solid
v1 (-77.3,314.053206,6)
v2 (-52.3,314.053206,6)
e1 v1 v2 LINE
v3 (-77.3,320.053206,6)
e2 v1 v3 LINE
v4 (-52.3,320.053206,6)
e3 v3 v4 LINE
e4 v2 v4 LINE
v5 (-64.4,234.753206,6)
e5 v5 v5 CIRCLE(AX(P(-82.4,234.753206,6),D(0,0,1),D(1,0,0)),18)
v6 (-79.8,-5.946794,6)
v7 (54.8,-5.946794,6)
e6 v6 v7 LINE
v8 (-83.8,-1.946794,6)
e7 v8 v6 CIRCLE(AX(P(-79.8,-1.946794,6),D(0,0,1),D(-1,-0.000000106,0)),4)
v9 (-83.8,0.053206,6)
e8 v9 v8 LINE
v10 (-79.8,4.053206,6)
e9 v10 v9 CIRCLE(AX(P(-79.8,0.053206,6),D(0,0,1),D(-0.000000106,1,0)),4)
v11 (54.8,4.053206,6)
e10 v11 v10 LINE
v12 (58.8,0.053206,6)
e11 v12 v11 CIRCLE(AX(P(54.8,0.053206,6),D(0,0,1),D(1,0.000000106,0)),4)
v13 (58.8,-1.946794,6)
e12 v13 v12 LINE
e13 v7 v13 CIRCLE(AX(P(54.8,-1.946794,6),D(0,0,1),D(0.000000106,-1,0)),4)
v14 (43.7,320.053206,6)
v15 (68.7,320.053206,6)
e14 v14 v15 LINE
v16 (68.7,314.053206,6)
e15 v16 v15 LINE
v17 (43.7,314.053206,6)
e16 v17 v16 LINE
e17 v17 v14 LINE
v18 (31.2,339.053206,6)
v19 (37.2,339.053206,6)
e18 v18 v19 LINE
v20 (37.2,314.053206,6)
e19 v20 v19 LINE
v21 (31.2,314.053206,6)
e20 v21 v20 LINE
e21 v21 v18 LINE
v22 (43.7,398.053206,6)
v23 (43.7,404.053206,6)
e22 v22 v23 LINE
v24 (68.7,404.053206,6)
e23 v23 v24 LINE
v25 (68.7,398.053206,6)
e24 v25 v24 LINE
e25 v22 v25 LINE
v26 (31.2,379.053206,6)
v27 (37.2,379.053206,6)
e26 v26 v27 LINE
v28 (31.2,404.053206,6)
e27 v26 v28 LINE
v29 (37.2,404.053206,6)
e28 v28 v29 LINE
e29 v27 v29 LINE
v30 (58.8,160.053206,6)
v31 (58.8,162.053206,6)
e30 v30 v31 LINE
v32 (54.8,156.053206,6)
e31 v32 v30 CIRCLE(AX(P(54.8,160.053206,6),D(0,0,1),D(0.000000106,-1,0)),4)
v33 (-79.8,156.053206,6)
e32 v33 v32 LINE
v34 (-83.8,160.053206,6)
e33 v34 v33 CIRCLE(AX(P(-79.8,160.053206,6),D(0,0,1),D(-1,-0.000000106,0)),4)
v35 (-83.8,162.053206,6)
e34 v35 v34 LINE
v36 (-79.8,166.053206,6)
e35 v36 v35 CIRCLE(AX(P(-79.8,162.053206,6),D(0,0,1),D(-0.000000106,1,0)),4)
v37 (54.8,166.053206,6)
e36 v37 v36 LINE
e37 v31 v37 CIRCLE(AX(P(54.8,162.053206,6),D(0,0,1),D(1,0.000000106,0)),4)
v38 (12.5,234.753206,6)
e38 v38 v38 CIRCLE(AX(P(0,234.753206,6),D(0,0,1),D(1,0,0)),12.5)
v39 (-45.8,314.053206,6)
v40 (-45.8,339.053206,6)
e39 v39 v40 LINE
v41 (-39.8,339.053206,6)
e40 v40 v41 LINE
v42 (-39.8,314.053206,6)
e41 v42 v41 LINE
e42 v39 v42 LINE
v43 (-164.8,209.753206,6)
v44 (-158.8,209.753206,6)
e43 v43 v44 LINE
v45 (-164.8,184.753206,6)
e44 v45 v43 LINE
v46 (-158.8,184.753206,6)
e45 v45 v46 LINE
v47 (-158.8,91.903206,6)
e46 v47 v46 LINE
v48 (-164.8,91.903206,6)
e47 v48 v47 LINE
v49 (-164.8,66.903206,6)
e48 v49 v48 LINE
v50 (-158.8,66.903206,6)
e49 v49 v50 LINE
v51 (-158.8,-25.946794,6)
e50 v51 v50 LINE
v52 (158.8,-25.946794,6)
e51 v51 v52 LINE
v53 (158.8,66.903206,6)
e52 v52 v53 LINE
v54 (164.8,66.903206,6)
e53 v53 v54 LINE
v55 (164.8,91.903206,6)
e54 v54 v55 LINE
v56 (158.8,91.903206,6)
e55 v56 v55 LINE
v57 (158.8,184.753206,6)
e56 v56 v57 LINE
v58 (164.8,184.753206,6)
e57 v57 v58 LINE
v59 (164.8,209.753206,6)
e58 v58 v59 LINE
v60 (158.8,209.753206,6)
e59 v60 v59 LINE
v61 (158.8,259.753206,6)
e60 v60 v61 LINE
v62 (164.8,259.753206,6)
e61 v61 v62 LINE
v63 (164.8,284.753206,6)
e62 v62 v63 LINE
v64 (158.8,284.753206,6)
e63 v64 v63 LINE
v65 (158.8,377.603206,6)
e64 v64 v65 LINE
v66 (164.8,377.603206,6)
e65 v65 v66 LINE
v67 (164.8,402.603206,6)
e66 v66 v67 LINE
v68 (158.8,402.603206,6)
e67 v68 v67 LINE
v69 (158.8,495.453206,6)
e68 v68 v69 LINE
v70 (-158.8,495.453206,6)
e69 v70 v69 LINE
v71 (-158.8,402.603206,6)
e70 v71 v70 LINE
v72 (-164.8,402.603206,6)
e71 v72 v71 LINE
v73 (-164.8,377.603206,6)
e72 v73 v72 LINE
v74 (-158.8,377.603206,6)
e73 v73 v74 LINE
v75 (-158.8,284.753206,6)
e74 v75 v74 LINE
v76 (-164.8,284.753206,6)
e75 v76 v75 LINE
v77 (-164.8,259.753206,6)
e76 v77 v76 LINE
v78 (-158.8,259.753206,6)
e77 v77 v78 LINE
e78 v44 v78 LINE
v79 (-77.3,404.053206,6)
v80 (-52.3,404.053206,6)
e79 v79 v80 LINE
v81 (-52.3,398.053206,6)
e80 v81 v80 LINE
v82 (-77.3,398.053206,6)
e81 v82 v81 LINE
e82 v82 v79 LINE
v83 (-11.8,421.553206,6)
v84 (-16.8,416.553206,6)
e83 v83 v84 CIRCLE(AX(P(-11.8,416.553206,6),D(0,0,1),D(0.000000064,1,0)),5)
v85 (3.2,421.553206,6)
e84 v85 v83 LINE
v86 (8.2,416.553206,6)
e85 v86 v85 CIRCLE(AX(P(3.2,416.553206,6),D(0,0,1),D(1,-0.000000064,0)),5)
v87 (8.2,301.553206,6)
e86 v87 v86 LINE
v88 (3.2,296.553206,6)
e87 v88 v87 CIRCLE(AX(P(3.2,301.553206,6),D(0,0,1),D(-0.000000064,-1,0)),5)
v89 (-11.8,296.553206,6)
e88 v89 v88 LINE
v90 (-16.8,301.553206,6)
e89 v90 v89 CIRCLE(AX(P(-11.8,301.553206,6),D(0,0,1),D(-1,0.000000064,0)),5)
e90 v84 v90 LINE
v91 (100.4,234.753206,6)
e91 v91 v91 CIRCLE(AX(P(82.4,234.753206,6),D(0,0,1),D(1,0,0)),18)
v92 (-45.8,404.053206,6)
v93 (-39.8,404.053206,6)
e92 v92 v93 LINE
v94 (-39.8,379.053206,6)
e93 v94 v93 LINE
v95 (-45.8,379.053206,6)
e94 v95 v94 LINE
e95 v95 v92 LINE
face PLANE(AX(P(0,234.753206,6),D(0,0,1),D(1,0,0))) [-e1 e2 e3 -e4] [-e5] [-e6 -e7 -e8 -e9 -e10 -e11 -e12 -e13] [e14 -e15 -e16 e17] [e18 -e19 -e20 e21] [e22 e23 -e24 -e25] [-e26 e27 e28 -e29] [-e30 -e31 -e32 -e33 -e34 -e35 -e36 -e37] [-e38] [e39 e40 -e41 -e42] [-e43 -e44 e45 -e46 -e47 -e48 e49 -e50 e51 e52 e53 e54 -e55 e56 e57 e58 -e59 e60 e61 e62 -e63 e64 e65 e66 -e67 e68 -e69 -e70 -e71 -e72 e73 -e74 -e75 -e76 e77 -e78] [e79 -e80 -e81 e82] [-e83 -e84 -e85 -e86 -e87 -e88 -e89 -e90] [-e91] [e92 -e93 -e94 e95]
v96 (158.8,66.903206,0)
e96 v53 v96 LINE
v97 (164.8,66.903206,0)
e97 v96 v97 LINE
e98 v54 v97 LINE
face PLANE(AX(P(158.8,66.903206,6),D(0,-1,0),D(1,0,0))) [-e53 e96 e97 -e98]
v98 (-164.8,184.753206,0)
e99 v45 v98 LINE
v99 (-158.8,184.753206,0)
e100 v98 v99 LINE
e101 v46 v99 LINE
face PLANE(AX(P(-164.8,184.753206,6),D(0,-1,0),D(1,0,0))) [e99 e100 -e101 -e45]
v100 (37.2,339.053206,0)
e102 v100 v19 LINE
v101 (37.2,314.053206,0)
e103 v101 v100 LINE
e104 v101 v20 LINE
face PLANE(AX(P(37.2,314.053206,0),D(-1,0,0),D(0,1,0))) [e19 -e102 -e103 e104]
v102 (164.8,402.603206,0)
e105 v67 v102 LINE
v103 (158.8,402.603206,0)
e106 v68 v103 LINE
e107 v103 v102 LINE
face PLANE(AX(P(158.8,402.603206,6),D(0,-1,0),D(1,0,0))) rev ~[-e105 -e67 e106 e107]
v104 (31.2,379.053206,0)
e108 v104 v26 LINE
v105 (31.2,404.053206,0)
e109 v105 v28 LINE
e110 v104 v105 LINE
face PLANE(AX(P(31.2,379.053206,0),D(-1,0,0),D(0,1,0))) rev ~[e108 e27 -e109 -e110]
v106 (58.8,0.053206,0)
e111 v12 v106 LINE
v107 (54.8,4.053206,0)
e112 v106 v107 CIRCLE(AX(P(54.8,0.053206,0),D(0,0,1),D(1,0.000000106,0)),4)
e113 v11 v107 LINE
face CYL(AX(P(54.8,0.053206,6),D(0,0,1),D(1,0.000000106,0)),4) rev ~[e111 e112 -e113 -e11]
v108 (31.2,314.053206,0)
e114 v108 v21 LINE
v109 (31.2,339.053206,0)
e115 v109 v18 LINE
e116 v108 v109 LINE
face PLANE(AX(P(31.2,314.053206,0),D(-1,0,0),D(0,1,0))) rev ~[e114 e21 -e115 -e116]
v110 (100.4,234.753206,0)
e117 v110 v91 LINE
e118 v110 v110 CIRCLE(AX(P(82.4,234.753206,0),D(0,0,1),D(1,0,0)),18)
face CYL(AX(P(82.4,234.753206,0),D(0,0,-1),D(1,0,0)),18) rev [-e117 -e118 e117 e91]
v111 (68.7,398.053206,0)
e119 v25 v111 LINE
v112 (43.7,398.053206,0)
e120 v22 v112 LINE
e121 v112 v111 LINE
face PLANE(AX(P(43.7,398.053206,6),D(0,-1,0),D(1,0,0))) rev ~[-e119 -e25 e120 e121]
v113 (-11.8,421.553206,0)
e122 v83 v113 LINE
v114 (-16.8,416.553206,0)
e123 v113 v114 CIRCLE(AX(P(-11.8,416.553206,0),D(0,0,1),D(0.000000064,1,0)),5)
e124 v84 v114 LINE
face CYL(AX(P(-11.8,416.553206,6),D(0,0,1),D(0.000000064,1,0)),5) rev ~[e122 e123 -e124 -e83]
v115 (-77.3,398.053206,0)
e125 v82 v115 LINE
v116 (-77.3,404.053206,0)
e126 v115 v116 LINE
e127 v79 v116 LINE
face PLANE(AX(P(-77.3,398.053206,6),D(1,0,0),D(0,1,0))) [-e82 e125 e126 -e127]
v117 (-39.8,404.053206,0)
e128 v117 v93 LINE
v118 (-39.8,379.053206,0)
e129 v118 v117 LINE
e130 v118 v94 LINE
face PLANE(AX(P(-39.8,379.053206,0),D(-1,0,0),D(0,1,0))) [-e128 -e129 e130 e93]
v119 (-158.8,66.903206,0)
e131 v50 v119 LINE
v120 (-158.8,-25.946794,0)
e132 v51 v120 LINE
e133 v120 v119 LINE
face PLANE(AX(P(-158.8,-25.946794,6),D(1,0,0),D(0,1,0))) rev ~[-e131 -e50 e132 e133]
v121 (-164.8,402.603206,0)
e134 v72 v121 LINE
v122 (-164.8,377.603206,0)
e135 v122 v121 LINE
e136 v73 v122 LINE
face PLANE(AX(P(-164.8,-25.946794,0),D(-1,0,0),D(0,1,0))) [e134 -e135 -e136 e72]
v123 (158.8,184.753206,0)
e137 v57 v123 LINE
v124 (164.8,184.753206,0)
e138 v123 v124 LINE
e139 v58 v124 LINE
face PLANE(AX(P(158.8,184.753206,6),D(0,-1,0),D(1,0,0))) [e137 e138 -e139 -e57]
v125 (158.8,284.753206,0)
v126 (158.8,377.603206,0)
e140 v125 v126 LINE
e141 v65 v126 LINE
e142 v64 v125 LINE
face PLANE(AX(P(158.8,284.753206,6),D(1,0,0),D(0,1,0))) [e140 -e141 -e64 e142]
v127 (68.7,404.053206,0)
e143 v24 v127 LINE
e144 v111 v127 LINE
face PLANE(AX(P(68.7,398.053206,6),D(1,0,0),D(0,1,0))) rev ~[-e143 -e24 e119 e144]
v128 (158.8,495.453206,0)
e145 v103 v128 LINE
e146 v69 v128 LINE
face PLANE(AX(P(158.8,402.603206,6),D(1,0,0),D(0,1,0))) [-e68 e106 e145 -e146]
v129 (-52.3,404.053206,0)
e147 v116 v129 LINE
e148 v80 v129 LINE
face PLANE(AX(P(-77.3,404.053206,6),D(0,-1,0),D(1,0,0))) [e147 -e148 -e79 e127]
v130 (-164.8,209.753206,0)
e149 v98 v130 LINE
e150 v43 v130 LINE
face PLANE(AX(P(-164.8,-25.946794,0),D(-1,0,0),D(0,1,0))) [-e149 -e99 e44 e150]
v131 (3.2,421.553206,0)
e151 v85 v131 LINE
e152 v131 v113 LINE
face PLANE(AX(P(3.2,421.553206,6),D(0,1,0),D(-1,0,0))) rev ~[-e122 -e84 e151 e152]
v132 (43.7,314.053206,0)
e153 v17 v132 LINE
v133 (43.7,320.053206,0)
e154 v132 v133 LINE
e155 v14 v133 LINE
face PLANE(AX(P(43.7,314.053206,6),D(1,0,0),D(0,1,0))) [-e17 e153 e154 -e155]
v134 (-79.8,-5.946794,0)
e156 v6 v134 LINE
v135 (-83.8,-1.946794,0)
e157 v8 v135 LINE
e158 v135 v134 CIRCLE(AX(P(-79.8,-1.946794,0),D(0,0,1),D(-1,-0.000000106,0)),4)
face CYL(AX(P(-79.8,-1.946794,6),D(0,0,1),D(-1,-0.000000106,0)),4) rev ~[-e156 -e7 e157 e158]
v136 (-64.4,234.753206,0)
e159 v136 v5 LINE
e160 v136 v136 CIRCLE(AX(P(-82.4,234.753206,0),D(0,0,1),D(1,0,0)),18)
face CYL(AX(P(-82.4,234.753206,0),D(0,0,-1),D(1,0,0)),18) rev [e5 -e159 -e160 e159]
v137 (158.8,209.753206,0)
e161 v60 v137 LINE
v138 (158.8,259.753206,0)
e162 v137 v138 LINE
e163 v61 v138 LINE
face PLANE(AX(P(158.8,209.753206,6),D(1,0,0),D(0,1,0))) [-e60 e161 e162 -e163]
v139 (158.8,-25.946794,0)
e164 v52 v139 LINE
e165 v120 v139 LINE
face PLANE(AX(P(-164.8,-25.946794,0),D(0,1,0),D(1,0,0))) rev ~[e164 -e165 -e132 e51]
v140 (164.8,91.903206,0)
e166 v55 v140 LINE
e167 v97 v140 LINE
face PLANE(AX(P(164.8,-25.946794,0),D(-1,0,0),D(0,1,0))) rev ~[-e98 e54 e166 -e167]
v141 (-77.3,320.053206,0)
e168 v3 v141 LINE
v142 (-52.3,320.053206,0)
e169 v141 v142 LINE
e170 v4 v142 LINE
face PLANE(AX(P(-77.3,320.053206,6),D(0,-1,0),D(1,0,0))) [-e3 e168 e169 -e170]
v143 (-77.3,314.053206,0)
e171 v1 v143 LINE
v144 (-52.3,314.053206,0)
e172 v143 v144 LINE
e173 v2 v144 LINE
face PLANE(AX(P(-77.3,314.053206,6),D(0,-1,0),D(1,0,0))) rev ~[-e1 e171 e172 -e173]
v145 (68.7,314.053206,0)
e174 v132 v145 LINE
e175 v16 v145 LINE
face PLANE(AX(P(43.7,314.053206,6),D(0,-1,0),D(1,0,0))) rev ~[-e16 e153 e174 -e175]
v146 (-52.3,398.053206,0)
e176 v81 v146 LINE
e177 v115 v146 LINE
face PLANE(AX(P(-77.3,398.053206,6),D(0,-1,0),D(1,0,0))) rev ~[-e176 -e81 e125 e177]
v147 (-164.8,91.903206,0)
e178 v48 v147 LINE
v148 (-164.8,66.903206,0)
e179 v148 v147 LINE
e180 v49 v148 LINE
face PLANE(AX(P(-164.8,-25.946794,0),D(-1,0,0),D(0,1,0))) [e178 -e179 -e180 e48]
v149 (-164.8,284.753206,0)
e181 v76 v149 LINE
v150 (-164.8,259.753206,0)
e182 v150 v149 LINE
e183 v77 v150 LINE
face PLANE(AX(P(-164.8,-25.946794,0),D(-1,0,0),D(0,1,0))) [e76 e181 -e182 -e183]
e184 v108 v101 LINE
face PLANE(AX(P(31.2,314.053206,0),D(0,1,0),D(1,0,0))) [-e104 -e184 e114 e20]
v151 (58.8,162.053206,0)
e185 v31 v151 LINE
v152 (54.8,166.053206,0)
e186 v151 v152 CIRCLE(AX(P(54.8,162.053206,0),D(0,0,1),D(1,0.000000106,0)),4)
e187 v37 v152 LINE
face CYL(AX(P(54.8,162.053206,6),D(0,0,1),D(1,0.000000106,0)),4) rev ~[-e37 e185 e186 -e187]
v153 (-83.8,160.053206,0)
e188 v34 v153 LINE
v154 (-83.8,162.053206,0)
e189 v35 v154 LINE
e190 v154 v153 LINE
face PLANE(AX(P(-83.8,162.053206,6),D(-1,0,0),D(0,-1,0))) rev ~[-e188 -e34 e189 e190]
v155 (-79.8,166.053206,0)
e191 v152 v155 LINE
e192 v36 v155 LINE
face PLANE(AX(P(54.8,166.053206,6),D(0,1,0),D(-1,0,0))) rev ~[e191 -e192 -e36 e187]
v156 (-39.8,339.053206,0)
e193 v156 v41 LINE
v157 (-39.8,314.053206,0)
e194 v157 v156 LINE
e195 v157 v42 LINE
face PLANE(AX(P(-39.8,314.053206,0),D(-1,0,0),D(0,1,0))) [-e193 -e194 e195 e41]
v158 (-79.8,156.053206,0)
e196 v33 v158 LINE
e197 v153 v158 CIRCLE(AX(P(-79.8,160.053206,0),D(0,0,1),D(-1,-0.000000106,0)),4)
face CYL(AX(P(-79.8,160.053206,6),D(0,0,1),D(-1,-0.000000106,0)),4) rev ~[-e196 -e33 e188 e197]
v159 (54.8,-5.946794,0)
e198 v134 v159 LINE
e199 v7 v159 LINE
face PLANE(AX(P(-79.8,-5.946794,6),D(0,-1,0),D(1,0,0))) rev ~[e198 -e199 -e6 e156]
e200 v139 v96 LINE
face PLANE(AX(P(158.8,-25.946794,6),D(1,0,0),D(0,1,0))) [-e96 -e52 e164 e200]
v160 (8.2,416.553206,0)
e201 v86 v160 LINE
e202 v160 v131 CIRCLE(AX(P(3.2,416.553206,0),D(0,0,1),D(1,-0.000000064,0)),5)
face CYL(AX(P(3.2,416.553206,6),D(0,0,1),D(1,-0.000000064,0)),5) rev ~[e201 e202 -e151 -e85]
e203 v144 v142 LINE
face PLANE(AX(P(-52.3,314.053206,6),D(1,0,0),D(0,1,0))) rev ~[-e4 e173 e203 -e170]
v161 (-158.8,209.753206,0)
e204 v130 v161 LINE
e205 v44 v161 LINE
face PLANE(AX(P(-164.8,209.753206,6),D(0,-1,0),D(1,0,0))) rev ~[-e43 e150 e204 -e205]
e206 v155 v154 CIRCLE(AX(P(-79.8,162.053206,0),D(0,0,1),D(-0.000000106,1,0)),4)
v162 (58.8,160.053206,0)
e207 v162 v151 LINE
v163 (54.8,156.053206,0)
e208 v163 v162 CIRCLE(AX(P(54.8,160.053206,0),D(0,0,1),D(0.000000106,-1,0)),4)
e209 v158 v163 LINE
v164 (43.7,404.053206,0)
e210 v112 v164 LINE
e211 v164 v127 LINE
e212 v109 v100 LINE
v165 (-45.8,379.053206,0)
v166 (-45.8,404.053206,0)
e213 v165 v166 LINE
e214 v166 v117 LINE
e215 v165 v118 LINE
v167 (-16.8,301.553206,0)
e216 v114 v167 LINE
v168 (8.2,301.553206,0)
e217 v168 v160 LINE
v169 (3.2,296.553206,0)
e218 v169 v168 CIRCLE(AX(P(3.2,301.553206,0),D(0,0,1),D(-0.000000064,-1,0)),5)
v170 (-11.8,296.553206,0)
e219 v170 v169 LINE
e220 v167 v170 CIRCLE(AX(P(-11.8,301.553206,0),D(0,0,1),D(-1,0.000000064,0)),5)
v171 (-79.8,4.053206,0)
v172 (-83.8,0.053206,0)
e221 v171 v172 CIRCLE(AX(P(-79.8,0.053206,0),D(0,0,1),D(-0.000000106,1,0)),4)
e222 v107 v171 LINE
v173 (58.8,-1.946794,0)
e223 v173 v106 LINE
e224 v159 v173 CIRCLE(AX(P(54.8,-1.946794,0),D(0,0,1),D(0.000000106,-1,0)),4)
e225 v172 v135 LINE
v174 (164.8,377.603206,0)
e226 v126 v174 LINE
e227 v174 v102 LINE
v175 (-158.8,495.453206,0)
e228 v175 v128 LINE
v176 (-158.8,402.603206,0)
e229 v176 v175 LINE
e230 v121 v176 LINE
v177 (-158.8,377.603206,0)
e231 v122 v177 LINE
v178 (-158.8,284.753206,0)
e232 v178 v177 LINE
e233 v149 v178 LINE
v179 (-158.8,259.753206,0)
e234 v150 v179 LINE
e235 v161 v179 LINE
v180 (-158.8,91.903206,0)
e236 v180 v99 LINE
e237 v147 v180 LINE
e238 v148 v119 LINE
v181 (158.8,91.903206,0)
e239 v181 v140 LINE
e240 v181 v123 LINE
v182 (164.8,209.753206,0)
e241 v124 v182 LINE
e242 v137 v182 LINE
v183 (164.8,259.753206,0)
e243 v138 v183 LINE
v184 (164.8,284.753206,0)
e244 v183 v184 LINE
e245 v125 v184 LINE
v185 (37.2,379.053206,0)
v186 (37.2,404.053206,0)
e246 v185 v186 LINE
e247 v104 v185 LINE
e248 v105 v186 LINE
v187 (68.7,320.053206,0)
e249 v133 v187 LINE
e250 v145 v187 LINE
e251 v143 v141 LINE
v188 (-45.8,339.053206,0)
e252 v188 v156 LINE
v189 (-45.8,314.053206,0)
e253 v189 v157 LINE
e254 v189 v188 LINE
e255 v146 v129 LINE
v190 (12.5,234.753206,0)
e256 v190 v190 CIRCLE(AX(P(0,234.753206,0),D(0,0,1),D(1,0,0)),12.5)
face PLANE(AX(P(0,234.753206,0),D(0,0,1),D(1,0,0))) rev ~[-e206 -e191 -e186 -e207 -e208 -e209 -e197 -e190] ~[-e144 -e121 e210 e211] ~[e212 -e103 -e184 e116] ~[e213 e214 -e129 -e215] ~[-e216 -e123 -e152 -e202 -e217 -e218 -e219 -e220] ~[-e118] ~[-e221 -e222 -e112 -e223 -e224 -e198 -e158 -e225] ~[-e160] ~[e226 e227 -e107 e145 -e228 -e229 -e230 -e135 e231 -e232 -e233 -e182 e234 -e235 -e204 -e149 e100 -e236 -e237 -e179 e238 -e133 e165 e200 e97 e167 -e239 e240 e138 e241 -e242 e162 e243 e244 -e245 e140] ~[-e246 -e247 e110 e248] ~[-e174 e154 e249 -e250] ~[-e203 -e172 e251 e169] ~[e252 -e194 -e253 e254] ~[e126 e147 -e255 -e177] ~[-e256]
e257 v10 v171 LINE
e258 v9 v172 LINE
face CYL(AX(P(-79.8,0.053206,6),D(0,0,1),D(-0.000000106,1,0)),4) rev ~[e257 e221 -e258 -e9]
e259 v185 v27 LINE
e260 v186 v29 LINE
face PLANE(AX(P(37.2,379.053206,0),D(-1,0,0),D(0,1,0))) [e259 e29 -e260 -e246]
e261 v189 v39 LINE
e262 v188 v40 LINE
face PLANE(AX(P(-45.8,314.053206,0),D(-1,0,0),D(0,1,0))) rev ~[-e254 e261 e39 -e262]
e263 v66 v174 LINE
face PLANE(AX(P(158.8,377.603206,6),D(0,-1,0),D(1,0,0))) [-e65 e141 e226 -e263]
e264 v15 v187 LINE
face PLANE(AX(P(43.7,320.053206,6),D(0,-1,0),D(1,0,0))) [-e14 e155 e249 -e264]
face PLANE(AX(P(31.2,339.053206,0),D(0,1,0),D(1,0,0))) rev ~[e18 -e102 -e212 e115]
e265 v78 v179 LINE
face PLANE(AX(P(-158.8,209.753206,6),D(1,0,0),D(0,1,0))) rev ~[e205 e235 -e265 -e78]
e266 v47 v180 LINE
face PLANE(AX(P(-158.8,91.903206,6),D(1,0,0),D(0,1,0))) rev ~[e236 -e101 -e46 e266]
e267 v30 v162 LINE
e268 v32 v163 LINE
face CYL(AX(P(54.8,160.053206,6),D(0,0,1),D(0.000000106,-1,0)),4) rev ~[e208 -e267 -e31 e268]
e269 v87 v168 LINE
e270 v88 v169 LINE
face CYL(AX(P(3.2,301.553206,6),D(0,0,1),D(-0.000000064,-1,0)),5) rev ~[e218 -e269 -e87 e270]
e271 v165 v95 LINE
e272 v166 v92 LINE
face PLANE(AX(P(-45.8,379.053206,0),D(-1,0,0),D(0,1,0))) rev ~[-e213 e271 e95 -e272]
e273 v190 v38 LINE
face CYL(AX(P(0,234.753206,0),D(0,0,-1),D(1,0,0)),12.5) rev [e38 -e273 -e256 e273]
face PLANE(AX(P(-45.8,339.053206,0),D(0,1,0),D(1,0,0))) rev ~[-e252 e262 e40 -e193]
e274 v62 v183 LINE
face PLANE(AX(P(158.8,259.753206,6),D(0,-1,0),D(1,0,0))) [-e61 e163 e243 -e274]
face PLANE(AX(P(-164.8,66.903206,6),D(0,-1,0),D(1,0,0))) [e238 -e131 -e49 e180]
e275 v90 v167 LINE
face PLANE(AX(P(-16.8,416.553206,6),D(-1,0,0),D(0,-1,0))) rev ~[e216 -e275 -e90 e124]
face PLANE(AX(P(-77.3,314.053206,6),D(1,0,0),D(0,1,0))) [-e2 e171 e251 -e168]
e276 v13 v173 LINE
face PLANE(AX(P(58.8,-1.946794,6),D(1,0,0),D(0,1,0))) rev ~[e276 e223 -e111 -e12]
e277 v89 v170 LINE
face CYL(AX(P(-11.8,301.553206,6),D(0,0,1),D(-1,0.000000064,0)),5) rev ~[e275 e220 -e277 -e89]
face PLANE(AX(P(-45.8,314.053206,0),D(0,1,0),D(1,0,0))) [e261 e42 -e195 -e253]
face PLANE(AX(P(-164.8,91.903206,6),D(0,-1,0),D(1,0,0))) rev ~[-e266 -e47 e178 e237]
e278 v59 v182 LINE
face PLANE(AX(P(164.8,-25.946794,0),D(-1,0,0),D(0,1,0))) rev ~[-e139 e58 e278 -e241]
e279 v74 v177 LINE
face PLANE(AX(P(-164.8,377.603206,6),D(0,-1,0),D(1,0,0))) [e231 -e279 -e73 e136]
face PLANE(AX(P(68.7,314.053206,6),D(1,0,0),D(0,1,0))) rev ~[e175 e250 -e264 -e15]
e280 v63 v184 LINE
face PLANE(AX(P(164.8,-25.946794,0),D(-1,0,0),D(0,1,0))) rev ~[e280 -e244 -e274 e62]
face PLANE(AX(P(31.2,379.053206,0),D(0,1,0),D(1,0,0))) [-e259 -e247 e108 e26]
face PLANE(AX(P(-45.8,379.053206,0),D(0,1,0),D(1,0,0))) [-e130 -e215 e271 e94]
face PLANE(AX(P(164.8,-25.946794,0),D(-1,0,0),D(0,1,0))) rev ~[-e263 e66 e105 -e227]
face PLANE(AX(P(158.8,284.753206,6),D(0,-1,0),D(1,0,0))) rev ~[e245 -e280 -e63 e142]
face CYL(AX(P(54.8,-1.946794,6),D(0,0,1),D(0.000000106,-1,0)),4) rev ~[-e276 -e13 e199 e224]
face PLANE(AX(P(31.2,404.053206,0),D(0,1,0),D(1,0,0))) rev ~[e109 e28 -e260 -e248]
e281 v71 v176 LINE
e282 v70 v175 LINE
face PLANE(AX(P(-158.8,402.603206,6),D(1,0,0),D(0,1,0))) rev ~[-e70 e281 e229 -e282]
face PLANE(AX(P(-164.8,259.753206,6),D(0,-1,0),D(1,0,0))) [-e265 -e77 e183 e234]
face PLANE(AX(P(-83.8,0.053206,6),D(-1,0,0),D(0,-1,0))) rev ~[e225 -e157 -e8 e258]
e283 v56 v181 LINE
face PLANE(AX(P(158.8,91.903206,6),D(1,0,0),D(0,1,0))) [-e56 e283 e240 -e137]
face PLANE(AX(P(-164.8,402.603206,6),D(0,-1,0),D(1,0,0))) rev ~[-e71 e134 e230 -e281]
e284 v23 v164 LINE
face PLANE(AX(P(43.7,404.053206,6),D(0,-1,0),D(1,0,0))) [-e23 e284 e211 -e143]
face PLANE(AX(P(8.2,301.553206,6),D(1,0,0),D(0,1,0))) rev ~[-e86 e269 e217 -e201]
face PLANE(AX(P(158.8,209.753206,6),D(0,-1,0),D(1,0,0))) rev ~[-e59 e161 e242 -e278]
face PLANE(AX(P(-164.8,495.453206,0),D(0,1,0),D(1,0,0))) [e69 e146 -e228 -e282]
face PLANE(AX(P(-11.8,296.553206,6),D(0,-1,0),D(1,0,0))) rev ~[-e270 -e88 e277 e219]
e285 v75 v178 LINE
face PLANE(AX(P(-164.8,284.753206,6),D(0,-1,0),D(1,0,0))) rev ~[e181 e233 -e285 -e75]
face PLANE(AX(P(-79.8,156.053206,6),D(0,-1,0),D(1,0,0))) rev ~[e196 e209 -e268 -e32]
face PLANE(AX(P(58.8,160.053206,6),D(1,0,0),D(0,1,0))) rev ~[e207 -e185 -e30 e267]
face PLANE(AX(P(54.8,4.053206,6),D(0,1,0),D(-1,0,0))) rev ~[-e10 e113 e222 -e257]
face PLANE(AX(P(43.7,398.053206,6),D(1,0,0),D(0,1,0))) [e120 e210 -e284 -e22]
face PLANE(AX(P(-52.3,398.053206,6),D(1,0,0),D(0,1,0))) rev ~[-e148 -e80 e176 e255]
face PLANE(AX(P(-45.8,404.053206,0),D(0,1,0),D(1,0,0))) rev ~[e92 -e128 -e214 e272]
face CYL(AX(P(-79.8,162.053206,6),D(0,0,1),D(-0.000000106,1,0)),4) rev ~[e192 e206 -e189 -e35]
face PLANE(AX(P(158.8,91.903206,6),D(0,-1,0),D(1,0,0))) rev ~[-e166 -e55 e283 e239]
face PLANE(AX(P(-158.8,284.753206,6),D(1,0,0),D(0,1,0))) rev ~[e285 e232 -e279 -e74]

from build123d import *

# Parameters (mm, degrees)
F0_W     = 329.6
F0_H     = 521.4
F0_R     = 18
F0_W_2   = 6
F0_H_2   = 25
F0_R_2   = 12.5
F1_DEPTH = 6
F2_W     = 6
F2_H     = 92.85
F2_H_2   = 50
F3_DEPTH = 25
F5_W     = 25
F5_H     = 6
F6_DEPTH = 25
F7_DEPTH = 25


with BuildPart() as f1:
    # F0 (on Top) → F1 (new body)
    with BuildSketch(Plane.XY):
        with Locations((0, 234.753206)):
            Rectangle(F0_W, F0_H)
        with Locations((-82.4, 234.753206)):
            Circle(F0_R, mode=Mode.SUBTRACT)
        with Locations((-42.8, 326.553206)):
            Rectangle(F0_W_2, F0_H_2, mode=Mode.SUBTRACT)
        with Locations((-42.8, 391.553206)):
            Rectangle(F0_W_2, F0_H_2, mode=Mode.SUBTRACT)
        with Locations((0, 234.753206)):
            Circle(F0_R_2, mode=Mode.SUBTRACT)
        with Locations((34.2, 326.553206)):
            Rectangle(F0_W_2, F0_H_2, mode=Mode.SUBTRACT)
        with Locations((82.4, 234.753206)):
            Circle(F0_R, mode=Mode.SUBTRACT)
        with Locations((34.2, 391.553206)):
            Rectangle(F0_W_2, F0_H_2, mode=Mode.SUBTRACT)
    extrude(amount=F1_DEPTH)

    # F2 (on face) → F3 (cut)
    with BuildSketch(Plane.XY.offset(6)):
        with Locations((-161.8, 449.028206)):
            Rectangle(F2_W, F2_H)
        with Locations((-161.8, 331.178206)):
            Rectangle(F2_W, F2_H)
        with Locations((-161.8, 234.753206)):
            Rectangle(F2_W, F2_H_2)
        with Locations((-161.8, 138.328206)):
            Rectangle(F2_W, F2_H)
        with Locations((-161.8, 20.478206)):
            Rectangle(F2_W, F2_H)
        with Locations((161.8, 449.028206)):
            Rectangle(F2_W, F2_H)
        with Locations((161.8, 20.478206)):
            Rectangle(F2_W, F2_H)
        with Locations((161.8, 138.328206)):
            Rectangle(F2_W, F2_H)
        with Locations((161.8, 331.178206)):
            Rectangle(F2_W, F2_H)
        with Locations((161.8, 234.753206)):
            Rectangle(F2_W, F2_H_2)
    extrude(amount=-F3_DEPTH, mode=Mode.SUBTRACT)

    # F5 (on face) → F6 (cut)
    with BuildSketch(Plane.XY.offset(6)):
        with Locations((-64.8, 317.053206)):
            Rectangle(F5_W, F5_H)
        with Locations((-64.8, 401.053206)):
            Rectangle(F5_W, F5_H)
        with Locations((56.2, 401.053206)):
            Rectangle(F5_W, F5_H)
        with Locations((56.2, 317.053206)):
            Rectangle(F5_W, F5_H)
        with BuildLine():
            Line((3.2, 421.553206), (-11.8, 421.553206))
            ThreePointArc((-11.8, 421.553206), (-15.335534, 420.08874), (-16.8, 416.553206))
            Line((-16.8, 416.553206), (-16.8, 301.553206))
            ThreePointArc((-16.8, 301.553206), (-15.335534, 298.017672), (-11.8, 296.553206))
            Line((-11.8, 296.553206), (3.2, 296.553206))
            ThreePointArc((3.2, 296.553206), (6.735534, 298.017672), (8.2, 301.553206))
            Line((8.2, 301.553206), (8.2, 416.553206))
            ThreePointArc((8.2, 416.553206), (6.735534, 420.08874), (3.2, 421.553206))
        make_face()
    extrude(amount=-F6_DEPTH, mode=Mode.SUBTRACT)

    # F4 (on face) → F7 (cut)
    with BuildSketch(Plane.XY.offset(6)):
        with BuildLine():
            Line((54.8, 166.053206), (-79.8, 166.053206))
            ThreePointArc((-79.8, 166.053206), (-82.628427, 164.881633), (-83.8, 162.053206))
            Line((-83.8, 162.053206), (-83.8, 160.053206))
            ThreePointArc((-83.8, 160.053206), (-82.628427, 157.224779), (-79.8, 156.053206))
            Line((-79.8, 156.053206), (54.8, 156.053206))
            ThreePointArc((54.8, 156.053206), (57.628427, 157.224779), (58.8, 160.053206))
            Line((58.8, 160.053206), (58.8, 162.053206))
            ThreePointArc((58.8, 162.053206), (57.628427, 164.881633), (54.8, 166.053206))
        make_face()
        with BuildLine():
            Line((54.8, 4.053206), (-79.8, 4.053206))
            ThreePointArc((-79.8, 4.053206), (-82.628427, 2.881633), (-83.8, 0.053206))
            Line((-83.8, 0.053206), (-83.8, -1.946794))
            ThreePointArc((-83.8, -1.946794), (-82.628427, -4.775221), (-79.8, -5.946794))
            Line((-79.8, -5.946794), (54.8, -5.946794))
            ThreePointArc((54.8, -5.946794), (57.628427, -4.775221), (58.8, -1.946794))
            Line((58.8, -1.946794), (58.8, 0.053206))
            ThreePointArc((58.8, 0.053206), (57.628427, 2.881633), (54.8, 4.053206))
        make_face()
    extrude(amount=-F7_DEPTH, mode=Mode.SUBTRACT)


solid = f1.part
